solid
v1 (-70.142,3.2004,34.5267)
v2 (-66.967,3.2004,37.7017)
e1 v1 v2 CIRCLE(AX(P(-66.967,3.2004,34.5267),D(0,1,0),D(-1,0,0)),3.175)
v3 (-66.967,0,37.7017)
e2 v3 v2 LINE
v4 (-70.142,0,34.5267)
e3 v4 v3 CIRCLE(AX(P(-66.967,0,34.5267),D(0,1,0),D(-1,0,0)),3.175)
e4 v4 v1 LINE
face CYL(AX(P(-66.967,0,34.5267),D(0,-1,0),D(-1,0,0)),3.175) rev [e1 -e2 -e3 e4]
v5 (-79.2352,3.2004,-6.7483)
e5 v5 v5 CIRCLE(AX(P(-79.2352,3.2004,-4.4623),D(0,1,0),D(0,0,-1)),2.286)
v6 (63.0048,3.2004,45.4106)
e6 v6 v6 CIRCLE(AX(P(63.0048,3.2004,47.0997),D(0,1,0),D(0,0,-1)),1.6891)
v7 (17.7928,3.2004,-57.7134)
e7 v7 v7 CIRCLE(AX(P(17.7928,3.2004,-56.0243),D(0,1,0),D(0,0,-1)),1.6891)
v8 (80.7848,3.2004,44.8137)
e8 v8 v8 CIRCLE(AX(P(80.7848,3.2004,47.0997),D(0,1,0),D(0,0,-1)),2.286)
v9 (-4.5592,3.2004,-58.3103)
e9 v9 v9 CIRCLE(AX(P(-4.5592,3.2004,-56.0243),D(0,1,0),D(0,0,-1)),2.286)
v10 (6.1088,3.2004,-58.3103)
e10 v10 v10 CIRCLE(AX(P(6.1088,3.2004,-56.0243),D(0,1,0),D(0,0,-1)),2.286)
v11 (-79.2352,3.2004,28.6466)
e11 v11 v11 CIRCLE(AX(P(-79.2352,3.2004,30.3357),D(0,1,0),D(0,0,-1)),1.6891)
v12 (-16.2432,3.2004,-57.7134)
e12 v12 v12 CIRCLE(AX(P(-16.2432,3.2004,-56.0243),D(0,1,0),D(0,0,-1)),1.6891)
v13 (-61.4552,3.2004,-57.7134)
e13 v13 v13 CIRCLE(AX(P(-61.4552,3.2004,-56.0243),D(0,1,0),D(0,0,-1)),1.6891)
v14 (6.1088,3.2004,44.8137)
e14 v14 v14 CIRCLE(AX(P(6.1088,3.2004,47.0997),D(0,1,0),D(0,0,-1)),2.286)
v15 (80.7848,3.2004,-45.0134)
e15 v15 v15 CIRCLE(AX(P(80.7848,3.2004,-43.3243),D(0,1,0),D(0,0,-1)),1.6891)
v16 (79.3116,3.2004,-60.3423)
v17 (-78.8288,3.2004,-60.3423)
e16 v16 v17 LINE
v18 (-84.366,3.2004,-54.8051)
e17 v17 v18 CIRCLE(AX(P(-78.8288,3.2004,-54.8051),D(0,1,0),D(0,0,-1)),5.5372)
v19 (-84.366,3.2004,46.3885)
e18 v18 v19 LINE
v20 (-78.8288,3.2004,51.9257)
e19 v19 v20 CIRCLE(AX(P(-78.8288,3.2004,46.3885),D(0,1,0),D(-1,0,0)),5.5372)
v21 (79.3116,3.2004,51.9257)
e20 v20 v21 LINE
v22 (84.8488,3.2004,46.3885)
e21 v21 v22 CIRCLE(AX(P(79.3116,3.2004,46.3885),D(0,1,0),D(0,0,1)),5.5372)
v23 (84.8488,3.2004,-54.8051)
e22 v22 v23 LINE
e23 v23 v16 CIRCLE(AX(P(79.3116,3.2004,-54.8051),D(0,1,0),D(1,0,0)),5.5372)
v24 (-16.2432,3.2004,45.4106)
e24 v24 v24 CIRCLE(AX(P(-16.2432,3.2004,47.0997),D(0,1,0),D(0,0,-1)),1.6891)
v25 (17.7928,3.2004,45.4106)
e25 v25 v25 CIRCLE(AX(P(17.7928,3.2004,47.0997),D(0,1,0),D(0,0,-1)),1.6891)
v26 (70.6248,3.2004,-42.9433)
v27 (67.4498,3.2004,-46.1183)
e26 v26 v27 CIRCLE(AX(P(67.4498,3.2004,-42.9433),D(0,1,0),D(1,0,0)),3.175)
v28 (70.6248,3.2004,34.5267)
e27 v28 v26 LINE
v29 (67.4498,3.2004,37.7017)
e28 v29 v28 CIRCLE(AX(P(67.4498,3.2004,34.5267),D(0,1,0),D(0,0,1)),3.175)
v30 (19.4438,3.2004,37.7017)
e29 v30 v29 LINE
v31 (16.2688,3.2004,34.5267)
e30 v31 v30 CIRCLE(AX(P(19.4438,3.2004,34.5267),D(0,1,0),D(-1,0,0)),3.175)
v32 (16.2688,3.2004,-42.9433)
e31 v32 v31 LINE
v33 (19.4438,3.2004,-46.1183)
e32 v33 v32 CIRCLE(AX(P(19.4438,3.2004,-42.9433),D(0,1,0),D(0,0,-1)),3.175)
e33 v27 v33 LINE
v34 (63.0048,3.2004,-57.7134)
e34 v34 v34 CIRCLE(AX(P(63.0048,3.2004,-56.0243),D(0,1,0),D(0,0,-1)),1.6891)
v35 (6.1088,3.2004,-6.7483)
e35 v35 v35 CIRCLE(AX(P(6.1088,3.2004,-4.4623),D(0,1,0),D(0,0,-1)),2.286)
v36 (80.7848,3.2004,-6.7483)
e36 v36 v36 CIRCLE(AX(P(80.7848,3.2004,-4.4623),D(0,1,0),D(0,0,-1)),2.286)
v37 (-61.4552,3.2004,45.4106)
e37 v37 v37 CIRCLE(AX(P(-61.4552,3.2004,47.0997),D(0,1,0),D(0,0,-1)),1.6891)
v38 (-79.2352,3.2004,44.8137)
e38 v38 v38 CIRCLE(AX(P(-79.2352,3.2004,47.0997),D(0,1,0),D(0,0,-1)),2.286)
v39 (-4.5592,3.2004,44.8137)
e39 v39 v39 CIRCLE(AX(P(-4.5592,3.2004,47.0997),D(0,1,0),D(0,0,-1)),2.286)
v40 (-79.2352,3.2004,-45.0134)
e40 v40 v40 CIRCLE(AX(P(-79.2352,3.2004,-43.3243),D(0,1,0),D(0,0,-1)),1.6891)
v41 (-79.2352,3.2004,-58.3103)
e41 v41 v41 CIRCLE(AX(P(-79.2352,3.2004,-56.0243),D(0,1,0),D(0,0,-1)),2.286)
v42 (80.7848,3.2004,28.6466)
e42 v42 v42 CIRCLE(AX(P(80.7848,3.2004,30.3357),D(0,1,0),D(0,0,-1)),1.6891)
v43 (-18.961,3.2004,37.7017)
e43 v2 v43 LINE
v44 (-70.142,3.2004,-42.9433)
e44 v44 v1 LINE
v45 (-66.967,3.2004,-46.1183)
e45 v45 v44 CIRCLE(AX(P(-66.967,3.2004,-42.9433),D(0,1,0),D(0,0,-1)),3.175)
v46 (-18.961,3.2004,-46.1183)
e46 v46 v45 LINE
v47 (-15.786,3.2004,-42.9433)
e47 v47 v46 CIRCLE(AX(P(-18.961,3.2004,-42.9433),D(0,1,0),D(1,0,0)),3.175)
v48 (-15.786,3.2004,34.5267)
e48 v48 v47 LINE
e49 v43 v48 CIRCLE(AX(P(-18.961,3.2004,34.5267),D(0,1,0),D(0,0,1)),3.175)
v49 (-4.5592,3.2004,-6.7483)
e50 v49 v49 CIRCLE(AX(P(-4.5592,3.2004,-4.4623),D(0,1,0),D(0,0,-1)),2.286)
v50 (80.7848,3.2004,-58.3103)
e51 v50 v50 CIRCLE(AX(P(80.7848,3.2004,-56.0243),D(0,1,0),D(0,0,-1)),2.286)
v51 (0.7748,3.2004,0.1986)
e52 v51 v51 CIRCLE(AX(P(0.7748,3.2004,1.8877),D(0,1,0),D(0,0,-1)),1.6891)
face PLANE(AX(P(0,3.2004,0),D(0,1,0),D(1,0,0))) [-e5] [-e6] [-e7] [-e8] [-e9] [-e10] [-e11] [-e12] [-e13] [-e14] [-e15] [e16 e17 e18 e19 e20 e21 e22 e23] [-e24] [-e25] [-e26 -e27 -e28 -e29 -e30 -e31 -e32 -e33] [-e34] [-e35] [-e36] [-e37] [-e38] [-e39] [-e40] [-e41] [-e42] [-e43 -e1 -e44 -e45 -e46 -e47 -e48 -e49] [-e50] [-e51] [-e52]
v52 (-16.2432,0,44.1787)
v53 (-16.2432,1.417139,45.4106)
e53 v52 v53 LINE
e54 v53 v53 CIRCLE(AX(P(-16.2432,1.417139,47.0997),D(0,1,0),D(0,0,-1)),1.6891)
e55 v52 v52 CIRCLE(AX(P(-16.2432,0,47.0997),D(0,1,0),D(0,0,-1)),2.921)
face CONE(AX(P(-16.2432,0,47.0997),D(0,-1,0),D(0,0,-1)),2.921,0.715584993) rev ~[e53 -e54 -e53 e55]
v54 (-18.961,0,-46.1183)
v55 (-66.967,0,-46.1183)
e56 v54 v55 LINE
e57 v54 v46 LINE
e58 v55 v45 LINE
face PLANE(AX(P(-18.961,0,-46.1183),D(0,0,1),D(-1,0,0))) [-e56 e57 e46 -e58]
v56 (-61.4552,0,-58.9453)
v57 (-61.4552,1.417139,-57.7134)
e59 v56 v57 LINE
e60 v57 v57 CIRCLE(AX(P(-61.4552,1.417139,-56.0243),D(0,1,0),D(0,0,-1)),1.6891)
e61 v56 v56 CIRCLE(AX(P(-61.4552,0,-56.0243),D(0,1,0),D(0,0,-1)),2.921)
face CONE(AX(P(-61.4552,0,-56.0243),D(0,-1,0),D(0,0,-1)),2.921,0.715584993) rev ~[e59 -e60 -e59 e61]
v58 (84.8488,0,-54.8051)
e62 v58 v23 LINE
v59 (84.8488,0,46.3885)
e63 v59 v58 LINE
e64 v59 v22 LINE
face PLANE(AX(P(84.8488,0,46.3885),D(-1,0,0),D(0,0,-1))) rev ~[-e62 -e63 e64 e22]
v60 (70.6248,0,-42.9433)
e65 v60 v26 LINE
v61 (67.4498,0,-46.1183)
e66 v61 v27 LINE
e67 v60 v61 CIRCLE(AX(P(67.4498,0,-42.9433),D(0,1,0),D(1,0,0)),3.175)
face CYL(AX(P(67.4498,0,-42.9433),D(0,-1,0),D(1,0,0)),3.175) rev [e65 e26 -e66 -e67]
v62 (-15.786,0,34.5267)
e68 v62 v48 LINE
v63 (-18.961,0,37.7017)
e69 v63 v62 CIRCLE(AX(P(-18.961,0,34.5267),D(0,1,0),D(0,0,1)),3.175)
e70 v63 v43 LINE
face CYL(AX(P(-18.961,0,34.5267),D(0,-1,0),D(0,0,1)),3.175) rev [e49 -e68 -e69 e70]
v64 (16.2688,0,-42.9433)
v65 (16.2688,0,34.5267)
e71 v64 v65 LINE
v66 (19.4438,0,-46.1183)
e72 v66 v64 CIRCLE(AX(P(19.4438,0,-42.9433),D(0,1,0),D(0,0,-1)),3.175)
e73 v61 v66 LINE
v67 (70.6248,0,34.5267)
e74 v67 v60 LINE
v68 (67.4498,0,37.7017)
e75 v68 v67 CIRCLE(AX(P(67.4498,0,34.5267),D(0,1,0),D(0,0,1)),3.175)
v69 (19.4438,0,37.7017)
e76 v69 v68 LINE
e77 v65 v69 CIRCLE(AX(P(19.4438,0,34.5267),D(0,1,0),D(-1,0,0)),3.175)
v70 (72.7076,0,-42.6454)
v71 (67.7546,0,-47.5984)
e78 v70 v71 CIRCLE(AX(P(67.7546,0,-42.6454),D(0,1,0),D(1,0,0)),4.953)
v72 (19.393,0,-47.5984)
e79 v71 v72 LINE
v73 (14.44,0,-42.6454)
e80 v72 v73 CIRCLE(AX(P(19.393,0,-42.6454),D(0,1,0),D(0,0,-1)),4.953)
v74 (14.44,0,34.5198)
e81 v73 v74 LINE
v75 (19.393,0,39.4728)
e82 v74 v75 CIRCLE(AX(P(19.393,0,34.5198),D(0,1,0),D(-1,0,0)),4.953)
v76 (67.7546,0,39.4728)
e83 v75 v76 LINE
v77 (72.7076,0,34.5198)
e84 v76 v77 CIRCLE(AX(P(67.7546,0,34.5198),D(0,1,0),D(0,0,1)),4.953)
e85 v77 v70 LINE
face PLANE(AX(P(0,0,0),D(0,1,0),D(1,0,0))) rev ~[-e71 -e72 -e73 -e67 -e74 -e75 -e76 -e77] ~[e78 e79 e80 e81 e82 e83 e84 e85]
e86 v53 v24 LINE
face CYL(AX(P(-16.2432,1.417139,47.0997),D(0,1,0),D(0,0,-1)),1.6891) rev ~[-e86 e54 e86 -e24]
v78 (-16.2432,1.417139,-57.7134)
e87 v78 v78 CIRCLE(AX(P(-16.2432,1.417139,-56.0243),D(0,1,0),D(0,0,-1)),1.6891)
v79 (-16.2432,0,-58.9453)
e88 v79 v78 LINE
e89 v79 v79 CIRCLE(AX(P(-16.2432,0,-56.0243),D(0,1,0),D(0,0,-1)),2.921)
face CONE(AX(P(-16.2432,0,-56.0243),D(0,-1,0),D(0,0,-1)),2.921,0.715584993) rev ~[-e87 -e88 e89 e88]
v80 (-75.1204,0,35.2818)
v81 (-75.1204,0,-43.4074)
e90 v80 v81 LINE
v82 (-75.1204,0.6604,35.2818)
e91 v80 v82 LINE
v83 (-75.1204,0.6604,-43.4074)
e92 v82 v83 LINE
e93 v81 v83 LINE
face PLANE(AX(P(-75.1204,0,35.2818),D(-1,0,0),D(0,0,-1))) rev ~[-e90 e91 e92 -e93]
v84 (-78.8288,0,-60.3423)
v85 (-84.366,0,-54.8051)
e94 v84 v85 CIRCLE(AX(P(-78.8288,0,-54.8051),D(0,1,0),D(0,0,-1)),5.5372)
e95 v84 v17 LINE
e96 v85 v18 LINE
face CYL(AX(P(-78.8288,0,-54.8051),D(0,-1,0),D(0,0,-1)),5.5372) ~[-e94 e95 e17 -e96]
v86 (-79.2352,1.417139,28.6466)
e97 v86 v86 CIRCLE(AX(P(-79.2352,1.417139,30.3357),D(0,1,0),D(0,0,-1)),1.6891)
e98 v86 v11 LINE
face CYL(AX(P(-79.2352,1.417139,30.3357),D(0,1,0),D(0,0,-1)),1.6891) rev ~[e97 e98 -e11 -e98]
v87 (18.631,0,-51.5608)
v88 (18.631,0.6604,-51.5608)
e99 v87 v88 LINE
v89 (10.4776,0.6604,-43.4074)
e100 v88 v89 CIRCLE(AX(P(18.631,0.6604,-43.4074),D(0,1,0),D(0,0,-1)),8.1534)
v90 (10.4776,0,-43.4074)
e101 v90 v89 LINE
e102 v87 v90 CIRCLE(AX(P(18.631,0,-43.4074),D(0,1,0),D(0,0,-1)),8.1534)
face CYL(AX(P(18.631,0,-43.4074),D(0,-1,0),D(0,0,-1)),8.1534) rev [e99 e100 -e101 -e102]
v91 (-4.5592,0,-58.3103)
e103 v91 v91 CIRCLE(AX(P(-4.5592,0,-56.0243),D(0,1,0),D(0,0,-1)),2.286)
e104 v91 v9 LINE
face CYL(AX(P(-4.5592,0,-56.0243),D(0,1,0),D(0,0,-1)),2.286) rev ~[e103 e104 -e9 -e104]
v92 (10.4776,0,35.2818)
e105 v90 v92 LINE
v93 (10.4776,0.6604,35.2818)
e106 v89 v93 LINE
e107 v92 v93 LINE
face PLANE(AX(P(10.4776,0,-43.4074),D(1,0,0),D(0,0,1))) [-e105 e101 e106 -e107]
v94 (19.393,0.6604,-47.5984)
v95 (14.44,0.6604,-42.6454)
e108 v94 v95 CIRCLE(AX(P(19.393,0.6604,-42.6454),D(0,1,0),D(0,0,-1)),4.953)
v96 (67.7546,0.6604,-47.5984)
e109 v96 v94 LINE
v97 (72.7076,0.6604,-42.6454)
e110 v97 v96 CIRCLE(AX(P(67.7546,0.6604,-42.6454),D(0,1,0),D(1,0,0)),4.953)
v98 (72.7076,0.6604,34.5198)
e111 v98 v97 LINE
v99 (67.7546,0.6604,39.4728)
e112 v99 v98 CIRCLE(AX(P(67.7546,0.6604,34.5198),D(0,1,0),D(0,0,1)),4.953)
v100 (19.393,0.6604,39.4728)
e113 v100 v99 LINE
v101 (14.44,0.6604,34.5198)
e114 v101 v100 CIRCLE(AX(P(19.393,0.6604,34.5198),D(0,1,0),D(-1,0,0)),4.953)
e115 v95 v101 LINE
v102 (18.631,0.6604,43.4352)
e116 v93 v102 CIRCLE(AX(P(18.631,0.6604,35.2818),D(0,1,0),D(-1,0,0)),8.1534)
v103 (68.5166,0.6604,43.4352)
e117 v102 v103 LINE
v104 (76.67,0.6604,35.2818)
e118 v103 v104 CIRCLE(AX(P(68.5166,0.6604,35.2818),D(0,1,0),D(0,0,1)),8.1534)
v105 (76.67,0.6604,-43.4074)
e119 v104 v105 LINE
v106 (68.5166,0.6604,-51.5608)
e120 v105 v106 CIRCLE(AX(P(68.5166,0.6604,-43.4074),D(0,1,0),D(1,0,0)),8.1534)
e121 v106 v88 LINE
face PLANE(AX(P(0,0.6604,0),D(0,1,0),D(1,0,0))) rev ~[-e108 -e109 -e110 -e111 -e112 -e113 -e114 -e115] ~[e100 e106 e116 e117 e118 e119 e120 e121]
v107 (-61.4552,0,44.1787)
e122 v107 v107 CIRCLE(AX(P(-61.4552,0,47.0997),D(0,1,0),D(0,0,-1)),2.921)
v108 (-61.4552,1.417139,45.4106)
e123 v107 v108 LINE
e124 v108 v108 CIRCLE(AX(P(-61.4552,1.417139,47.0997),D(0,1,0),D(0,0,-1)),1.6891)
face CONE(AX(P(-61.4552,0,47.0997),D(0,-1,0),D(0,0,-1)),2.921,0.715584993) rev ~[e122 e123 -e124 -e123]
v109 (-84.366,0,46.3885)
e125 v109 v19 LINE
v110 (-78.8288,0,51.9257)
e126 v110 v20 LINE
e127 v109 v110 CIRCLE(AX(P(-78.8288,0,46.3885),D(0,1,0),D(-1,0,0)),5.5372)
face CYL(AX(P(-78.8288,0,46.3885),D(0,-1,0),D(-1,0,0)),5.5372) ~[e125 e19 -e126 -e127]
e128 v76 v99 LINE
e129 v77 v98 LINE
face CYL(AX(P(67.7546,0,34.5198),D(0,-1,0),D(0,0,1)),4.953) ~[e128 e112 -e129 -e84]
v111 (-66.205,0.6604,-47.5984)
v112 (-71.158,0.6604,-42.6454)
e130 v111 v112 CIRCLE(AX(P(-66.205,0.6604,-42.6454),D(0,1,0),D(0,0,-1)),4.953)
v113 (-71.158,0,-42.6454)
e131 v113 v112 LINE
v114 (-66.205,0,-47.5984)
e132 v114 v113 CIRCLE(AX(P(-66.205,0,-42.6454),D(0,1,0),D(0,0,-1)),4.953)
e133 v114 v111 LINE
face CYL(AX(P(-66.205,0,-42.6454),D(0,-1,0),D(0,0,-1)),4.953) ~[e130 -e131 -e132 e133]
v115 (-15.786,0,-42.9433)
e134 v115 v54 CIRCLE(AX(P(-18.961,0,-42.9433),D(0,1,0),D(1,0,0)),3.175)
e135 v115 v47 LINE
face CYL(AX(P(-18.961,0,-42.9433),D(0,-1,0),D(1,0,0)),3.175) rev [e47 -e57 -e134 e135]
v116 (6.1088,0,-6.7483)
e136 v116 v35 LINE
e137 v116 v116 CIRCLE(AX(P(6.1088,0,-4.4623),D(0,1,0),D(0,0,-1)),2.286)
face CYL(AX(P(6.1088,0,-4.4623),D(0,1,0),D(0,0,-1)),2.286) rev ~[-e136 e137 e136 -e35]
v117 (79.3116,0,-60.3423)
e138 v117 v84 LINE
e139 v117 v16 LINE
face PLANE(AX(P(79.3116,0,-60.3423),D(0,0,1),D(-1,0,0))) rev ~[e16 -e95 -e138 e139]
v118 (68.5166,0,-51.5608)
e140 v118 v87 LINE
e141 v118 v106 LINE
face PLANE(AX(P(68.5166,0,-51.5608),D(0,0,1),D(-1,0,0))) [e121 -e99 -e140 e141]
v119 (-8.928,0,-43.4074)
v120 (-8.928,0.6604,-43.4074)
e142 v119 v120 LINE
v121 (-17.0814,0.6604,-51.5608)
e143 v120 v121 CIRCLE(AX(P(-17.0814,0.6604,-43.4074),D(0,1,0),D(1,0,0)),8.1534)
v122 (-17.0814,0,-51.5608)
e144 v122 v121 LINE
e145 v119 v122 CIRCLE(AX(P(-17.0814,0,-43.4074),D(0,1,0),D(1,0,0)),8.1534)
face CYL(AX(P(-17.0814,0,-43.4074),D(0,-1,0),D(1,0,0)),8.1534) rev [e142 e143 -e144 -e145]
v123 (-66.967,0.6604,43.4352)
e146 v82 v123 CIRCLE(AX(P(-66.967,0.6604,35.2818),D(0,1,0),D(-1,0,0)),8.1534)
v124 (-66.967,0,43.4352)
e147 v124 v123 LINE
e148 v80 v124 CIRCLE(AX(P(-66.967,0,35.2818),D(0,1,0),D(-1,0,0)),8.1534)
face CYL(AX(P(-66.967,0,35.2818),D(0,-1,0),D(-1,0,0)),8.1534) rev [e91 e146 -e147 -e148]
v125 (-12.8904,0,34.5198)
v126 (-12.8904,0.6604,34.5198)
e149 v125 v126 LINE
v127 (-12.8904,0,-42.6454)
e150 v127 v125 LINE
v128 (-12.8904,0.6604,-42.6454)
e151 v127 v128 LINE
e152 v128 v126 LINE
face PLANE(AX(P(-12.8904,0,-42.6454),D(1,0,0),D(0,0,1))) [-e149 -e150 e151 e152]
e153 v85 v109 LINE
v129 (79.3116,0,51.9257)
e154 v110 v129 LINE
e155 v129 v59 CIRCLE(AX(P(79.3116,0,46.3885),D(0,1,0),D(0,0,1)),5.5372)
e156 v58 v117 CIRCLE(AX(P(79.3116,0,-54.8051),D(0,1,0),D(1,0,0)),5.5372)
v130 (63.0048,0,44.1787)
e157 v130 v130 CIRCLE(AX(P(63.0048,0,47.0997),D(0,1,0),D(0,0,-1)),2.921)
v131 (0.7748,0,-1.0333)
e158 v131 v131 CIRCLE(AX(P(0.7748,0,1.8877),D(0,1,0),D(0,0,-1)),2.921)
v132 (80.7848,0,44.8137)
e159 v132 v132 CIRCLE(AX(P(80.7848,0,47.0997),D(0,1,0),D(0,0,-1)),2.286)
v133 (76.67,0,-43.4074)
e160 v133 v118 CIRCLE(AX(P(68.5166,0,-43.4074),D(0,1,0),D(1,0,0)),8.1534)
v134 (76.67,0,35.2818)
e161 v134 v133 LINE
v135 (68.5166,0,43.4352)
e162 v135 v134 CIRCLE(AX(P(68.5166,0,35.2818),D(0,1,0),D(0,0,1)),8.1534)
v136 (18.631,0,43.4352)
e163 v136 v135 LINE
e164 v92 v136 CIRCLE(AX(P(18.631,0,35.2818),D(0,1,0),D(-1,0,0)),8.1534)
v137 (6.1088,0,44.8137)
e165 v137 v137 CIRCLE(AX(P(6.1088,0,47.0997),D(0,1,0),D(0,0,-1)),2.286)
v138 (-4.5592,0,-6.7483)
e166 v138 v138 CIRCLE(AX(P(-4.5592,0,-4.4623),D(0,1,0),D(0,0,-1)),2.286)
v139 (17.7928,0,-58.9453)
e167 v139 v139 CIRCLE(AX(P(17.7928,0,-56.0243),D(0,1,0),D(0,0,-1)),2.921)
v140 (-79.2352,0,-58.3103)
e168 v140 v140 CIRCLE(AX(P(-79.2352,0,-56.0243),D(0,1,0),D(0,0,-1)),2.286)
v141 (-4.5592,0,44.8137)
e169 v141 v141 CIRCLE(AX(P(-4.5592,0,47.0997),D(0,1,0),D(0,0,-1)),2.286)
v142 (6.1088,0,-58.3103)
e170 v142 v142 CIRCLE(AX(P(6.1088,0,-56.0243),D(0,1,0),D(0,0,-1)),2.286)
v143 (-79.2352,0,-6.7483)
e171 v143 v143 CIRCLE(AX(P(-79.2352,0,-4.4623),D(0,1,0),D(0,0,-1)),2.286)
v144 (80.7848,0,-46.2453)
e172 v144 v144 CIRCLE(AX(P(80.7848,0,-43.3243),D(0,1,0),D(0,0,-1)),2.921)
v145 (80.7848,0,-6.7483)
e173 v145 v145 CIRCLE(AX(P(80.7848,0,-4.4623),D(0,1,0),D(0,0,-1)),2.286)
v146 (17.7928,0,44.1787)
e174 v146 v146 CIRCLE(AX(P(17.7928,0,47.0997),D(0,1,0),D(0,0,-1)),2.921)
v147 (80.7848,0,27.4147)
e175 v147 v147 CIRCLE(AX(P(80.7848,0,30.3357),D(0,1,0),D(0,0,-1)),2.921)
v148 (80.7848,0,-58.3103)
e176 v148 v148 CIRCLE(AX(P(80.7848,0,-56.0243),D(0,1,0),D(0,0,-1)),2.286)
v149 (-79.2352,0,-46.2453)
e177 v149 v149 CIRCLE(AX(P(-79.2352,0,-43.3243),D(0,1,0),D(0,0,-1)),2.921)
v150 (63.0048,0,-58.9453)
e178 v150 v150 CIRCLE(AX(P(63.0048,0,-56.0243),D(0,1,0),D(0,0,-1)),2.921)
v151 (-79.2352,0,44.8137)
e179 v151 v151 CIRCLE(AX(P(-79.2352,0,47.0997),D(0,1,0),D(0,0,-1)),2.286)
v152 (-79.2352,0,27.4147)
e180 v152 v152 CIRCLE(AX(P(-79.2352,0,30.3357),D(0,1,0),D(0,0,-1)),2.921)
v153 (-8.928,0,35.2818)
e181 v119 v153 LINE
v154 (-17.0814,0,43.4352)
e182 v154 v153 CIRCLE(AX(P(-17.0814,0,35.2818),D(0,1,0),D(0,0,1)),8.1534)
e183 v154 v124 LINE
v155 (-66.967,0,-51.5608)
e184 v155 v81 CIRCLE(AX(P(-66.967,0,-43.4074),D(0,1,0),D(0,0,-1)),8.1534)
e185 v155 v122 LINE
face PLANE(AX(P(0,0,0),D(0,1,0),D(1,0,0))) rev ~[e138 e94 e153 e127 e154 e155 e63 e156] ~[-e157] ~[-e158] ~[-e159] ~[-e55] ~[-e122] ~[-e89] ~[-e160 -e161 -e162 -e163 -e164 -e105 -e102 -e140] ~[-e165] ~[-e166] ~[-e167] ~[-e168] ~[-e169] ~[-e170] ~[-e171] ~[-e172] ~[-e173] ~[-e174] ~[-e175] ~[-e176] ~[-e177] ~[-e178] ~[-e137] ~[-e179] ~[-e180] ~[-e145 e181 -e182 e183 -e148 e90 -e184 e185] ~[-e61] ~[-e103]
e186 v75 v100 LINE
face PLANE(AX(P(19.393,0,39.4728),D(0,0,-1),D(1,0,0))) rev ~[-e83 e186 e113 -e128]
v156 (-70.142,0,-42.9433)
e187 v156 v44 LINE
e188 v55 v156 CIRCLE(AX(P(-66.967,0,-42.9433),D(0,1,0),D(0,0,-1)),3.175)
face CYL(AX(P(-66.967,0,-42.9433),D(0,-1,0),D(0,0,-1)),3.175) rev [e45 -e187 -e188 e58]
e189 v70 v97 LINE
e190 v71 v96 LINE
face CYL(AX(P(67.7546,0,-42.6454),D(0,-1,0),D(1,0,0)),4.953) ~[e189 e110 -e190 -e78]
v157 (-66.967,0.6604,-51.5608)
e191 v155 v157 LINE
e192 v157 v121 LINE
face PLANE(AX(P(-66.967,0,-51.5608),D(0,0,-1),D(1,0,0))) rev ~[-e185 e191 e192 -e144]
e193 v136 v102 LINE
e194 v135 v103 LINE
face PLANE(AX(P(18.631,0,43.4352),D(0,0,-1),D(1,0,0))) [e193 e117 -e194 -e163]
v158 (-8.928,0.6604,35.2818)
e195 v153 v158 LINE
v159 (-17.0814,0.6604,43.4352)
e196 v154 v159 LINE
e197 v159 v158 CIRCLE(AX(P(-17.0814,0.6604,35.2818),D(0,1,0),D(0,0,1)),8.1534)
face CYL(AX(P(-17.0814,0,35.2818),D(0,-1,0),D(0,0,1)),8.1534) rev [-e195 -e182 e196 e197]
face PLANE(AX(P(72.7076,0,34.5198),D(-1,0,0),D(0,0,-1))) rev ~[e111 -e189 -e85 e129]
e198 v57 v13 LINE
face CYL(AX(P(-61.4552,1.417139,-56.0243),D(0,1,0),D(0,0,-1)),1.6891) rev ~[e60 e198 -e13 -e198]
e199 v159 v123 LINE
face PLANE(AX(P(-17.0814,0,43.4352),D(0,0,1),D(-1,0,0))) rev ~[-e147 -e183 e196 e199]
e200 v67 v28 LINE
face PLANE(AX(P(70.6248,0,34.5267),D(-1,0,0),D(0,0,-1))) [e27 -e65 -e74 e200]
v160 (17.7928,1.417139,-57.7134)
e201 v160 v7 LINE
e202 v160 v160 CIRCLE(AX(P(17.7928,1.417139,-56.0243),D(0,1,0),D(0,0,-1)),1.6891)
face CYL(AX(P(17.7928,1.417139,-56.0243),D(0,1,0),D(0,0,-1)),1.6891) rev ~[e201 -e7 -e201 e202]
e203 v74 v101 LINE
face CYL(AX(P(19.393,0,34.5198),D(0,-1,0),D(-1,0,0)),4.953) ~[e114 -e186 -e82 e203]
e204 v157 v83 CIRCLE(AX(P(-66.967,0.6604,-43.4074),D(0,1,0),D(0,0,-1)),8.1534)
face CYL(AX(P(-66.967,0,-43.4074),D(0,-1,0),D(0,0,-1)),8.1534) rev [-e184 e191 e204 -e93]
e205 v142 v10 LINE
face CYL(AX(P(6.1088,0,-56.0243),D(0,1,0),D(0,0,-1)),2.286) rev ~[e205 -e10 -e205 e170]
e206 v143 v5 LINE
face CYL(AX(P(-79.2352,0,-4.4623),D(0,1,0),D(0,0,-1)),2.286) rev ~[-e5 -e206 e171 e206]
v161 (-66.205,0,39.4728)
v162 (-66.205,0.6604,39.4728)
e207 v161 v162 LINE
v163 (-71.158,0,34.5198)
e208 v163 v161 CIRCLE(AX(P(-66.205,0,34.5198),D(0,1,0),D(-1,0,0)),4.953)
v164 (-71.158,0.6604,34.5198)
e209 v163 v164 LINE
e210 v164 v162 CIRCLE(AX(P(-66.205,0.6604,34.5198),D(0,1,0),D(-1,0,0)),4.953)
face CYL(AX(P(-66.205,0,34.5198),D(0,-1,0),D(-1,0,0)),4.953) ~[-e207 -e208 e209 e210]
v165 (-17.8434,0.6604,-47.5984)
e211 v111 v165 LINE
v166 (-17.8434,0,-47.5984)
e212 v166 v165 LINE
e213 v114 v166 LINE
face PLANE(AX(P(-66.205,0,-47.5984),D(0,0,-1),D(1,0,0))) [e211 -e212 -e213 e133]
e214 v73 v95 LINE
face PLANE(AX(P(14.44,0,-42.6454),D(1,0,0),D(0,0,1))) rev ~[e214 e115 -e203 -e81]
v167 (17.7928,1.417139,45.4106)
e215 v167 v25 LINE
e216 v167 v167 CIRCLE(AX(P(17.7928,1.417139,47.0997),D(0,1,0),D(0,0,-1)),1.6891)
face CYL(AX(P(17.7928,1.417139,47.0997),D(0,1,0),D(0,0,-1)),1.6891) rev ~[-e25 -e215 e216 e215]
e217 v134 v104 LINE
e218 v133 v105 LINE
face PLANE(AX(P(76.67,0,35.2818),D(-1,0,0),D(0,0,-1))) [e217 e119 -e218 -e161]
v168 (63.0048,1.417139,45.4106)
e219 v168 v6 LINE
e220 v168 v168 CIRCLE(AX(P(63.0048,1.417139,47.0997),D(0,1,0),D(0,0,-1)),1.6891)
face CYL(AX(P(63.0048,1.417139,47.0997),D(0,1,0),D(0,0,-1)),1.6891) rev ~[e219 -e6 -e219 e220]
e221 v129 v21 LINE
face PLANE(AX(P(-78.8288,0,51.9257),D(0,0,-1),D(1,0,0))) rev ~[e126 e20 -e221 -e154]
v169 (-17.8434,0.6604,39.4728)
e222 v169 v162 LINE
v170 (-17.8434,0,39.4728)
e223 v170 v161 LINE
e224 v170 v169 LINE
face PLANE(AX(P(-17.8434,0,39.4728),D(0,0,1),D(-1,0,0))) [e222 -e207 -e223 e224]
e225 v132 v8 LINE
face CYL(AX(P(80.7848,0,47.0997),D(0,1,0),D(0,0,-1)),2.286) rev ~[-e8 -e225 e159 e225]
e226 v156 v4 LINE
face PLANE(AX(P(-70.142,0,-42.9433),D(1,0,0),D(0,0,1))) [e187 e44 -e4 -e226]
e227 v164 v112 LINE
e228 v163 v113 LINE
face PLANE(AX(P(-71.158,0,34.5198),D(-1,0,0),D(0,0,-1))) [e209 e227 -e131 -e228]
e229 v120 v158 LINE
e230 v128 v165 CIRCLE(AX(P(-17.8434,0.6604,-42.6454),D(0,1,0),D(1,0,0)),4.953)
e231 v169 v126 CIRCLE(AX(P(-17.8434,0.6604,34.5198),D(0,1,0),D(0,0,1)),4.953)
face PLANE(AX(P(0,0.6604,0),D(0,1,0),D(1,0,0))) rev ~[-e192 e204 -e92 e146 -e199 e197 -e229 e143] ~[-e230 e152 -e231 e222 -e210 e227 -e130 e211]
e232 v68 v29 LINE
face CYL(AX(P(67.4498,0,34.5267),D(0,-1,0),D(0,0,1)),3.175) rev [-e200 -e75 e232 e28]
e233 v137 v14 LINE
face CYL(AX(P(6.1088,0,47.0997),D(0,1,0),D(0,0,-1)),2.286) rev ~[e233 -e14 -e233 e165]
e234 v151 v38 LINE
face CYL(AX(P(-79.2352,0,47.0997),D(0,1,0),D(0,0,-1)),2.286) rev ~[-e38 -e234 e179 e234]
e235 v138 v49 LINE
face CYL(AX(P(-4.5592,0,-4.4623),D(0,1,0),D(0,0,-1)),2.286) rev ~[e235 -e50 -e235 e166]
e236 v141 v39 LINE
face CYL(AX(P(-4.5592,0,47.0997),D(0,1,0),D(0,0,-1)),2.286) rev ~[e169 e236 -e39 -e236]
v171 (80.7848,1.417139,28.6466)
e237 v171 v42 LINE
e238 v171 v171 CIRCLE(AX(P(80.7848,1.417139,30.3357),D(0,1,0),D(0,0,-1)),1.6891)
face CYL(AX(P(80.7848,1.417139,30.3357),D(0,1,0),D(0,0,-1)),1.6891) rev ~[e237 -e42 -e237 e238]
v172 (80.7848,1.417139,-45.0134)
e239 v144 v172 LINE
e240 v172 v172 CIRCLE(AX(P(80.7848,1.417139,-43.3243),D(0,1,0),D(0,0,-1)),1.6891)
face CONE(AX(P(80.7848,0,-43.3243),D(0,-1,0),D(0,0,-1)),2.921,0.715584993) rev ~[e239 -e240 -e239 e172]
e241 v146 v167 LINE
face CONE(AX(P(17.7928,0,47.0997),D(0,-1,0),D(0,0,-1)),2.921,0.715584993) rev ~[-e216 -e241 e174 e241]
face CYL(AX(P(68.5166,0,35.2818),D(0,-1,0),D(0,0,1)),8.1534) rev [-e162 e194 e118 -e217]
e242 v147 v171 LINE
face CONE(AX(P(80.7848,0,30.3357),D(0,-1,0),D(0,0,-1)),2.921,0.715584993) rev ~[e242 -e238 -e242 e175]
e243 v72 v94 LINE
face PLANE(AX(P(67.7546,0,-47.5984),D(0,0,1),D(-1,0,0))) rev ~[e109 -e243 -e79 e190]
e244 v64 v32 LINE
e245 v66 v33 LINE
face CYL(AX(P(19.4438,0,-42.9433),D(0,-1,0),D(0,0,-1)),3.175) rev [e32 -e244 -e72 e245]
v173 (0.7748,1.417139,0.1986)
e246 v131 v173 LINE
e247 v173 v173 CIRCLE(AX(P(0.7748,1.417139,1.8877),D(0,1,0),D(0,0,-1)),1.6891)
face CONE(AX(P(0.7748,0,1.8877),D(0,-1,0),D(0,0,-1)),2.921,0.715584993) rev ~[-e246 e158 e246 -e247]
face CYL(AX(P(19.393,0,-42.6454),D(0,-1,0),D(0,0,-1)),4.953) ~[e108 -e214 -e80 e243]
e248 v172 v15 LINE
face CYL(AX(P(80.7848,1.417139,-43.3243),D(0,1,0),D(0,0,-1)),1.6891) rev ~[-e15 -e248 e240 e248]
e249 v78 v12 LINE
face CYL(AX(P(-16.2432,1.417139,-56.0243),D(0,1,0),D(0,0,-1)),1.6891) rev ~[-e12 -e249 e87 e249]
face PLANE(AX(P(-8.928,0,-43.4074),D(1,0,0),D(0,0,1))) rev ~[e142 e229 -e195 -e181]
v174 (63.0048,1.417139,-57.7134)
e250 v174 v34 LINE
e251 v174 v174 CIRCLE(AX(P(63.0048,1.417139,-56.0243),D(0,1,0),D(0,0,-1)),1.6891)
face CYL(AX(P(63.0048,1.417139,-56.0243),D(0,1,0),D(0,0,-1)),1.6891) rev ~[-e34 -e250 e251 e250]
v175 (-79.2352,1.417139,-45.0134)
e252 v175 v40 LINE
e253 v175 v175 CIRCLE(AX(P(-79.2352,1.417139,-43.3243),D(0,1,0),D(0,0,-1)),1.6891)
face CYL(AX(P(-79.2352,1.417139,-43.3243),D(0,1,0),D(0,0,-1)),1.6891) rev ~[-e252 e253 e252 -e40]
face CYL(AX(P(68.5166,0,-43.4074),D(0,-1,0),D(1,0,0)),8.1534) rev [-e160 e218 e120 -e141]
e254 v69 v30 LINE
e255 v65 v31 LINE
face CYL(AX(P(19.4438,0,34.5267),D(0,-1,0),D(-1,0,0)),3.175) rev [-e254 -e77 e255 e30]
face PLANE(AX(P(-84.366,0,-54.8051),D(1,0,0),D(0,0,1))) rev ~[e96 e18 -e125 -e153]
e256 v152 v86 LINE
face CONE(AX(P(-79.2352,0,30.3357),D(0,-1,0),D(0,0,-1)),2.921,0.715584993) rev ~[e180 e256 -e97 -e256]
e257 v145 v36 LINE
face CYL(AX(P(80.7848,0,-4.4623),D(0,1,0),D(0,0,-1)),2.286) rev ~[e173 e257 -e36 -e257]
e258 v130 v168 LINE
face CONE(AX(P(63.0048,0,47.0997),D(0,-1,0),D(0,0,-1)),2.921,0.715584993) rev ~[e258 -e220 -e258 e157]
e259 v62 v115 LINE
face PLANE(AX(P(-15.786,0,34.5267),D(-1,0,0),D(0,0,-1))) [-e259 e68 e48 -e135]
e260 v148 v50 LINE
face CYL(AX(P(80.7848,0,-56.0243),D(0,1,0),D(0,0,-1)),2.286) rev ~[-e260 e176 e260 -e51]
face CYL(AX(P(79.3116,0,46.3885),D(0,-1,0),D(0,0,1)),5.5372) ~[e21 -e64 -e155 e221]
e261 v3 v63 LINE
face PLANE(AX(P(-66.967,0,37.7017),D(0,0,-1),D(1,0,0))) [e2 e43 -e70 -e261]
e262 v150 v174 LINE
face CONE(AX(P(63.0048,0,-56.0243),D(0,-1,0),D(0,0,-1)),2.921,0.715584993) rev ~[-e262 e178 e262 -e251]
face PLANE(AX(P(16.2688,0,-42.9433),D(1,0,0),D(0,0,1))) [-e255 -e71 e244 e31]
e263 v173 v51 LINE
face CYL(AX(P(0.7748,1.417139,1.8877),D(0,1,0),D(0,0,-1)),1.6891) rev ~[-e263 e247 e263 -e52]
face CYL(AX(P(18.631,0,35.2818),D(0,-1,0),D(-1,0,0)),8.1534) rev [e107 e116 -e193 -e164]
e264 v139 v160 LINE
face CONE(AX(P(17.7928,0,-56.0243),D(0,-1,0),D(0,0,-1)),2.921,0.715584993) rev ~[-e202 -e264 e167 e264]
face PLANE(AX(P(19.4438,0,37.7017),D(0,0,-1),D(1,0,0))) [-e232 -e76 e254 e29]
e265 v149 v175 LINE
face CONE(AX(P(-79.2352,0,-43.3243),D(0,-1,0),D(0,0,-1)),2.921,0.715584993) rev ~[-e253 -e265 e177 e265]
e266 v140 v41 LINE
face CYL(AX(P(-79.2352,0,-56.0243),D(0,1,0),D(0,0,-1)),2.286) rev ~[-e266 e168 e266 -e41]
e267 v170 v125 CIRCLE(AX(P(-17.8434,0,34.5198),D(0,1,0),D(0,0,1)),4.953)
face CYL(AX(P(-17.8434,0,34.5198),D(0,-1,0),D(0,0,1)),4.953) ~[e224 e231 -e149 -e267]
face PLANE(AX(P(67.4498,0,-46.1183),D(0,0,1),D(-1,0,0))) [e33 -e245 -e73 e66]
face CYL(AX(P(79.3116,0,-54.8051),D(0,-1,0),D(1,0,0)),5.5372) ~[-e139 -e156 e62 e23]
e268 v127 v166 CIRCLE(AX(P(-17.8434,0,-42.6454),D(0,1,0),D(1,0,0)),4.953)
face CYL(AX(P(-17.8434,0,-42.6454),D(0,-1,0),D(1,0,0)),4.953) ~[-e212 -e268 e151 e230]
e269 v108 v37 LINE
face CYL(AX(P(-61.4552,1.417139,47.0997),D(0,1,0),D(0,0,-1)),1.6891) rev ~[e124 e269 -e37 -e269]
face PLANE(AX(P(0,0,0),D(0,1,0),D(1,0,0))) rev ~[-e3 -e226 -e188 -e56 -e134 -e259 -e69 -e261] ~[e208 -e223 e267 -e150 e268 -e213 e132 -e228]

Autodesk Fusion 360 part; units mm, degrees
sketch "Front-OuterDimensionsAndHoles" plane through (0, 0, 0) normal (0, 1, 0) x (1, 0, 0) in component "1006351A-GASKET"
  line L0 (-137.0277, -51.6717) -> (147.7462, -51.6717) construction
  line L1 (-113.1932, -37.4477) -> (126.9355, -37.4477) construction
  line L2 (-111.6736, 46.3723) -> (88.9542, 46.3723) construction
  line L3 (-83.38, 4.4623) -> (113.9408, 4.4623) construction
  line L4 (77.012, -30.3357) -> (138.7437, -30.3357) construction
  line L5 (77.3795, 43.3243) -> (102.1824, 43.3243) construction
  line L6 (-79.2352, -152.4901) -> (-79.2352, 67.7682) construction
  line L7 (80.7848, -152.4901) -> (80.7848, 99.4049) construction
  line L8 (-16.2432, -127.3246) -> (-16.2432, -37.4477) construction
  line L9 (-61.4552, -139.7875) -> (-61.4552, -23.5467) construction
  line L10 (-4.5592, -114.8617) -> (-4.5592, -39.3651) construction
  line L11 (0.7748, -102.6384) -> (0.7748, 79.7518) construction
  line L12 (6.1088, -89.6961) -> (6.1088, 17.4372) construction
  line L13 (122.5447, -1.8877) -> (-114.7303, -1.8877) construction
  line L14 (151.0657, 56.0243) -> (-121.6808, 56.0243) construction
  line L15 (-84.366, -162.1054) -> (-84.366, 89.1529) construction
  line L16 (84.8488, -151.7017) -> (84.8488, 106.4269) construction
  line L17 (17.7928, -77.6983) -> (17.7928, -42.3651) construction
  line L18 (63.0048, -65.3317) -> (63.0048, -43.9355) construction
  line L19 (-137.1695, 60.5963) -> (174.7441, 60.5963) construction
  line L20 (-87.8994, -47.0997) -> (156.6849, -47.0997) construction
  line L21 (70.6248, 70.8097) -> (70.6248, -45.2683) construction
  line L22 (16.2688, 71.2679) -> (16.2688, -42.3651) construction
  line L23 (-15.786, 70.5042) -> (-15.786, -42.9773) construction
  line L24 (-70.142, 108.0768) -> (-70.142, -44.9628) construction
  line L25 (-10.9092, 93.2616) -> (-10.9092, -44.6574) construction
  line L26 (73.9383, 85.014) -> (73.9383, -42.8245) construction
  line L27 (-101.4005, 49.5796) -> (76.5348, 49.5796) construction
  line L28 (-100.0259, -41.454) -> (76.8403, -41.454) construction
  line L29 (-78.8288, -51.9257) -> (79.3116, -51.9257)
  line L30 (84.8488, -46.3885) -> (84.8488, 54.8051)
  line L31 (79.3116, 60.3423) -> (-78.8288, 60.3423)
  line L32 (-84.366, 54.8051) -> (-84.366, -46.3885)
  line L33 (-66.967, -37.7017) -> (-18.961, -37.7017)
  line L34 (-15.786, -34.5267) -> (-15.786, 42.9433)
  line L35 (-18.961, 46.1183) -> (-66.967, 46.1183)
  line L36 (-70.142, 42.9433) -> (-70.142, -34.5267)
  line L37 (19.4438, -37.7017) -> (67.4498, -37.7017)
  line L38 (70.6248, -34.5267) -> (70.6248, 42.9433)
  line L39 (67.4498, 46.1183) -> (19.4438, 46.1183)
  line L40 (16.2688, 42.9433) -> (16.2688, -34.5267)
  arc A0 (-84.366, -46.3885) -> (-78.8288, -51.9257) centre (-78.8288, -46.3885) ccw
  arc A1 (-78.8288, 60.3423) -> (-84.366, 54.8051) centre (-78.8288, 54.8051) ccw
  arc A2 (84.8488, 54.8051) -> (79.3116, 60.3423) centre (79.3116, 54.8051) ccw
  arc A3 (-70.142, -34.5267) -> (-66.967, -37.7017) centre (-66.967, -34.5267) ccw
  arc A4 (-18.961, -37.7017) -> (-15.786, -34.5267) centre (-18.961, -34.5267) ccw
  arc A5 (-15.786, 42.9433) -> (-18.961, 46.1183) centre (-18.961, 42.9433) ccw
  arc A6 (-66.967, 46.1183) -> (-70.142, 42.9433) centre (-66.967, 42.9433) ccw
  arc A7 (67.4498, -37.7017) -> (70.6248, -34.5267) centre (67.4498, -34.5267) ccw
  arc A8 (70.6248, 42.9433) -> (67.4498, 46.1183) centre (67.4498, 42.9433) ccw
  arc A9 (19.4438, 46.1183) -> (16.2688, 42.9433) centre (19.4438, 42.9433) ccw
  arc A10 (16.2688, -34.5267) -> (19.4438, -37.7017) centre (19.4438, -34.5267) ccw
  arc A11 (79.3116, -51.9257) -> (84.8488, -46.3885) centre (79.3116, -46.3885) ccw
  line L41 (-100.3246, -43.4352) -> (86.6573, -43.4352) construction
  line L42 (-99.9078, -39.4728) -> (77.154, -39.4728) construction
  line L43 (-94.8446, 47.5984) -> (76.1721, 47.5984) construction
  line L44 (-94.4522, 51.5608) -> (76.1721, 51.5608) construction
  line L45 (-73.1392, 86.7279) -> (-73.1392, -45.4577) construction
  line L46 (-8.928, 72.5566) -> (-8.928, -44.6167) construction
  line L47 (-12.8904, 72.2199) -> (-12.8904, -44.6167) construction
  line L48 (-75.1204, 70.9572) -> (-75.1204, -44.6167) construction
  line L49 (-71.158, 71.0414) -> (-71.158, -44.3641) construction
  line L50 (-66.967, 51.5608) -> (-17.0814, 51.5608)
  line L51 (-8.928, 43.4074) -> (-8.928, -35.2818)
  line L52 (-17.0814, -43.4352) -> (-66.967, -43.4352)
  line L53 (-75.1204, -35.2818) -> (-75.1204, 43.4074)
  line L54 (-66.205, 47.5984) -> (-17.8434, 47.5984)
  line L55 (-12.8904, 42.6454) -> (-12.8904, -34.5198)
  line L56 (-17.8434, -39.4728) -> (-66.205, -39.4728)
  line L57 (-71.158, -34.5198) -> (-71.158, 42.6454)
  arc A12 (-75.1204, -35.2818) -> (-66.967, -43.4352) centre (-66.967, -35.2818) ccw
  arc A13 (-17.0814, -43.4352) -> (-8.928, -35.2818) centre (-17.0814, -35.2818) ccw
  arc A14 (-8.928, 43.4074) -> (-17.0814, 51.5608) centre (-17.0814, 43.4074) ccw
  arc A15 (-66.967, 51.5608) -> (-75.1204, 43.4074) centre (-66.967, 43.4074) ccw
  arc A16 (-71.158, -34.5198) -> (-66.205, -39.4728) centre (-66.205, -34.5198) ccw
  arc A17 (-66.205, 47.5984) -> (-71.158, 42.6454) centre (-66.205, 42.6454) ccw
  arc A18 (-12.8904, 42.6454) -> (-17.8434, 47.5984) centre (-17.8434, 42.6454) ccw
  arc A19 (-17.8434, -39.4728) -> (-12.8904, -34.5198) centre (-17.8434, -34.5198) ccw
  line L58 (18.631, -43.4352) -> (68.5166, -43.4352)
  arc A20 (68.5166, -43.4352) -> (76.67, -35.2818) centre (68.5166, -35.2818) ccw
  line L59 (76.67, -35.2818) -> (76.67, 43.4074)
  arc A21 (76.67, 43.4074) -> (68.5166, 51.5608) centre (68.5166, 43.4074) ccw
  line L60 (68.5166, 51.5608) -> (18.631, 51.5608)
  arc A22 (18.631, 51.5608) -> (10.4776, 43.4074) centre (18.631, 43.4074) ccw
  line L61 (10.4776, 43.4074) -> (10.4776, -35.2818)
  arc A23 (10.4776, -35.2818) -> (18.631, -43.4352) centre (18.631, -35.2818) ccw
  line L62 (19.393, -39.4728) -> (67.7546, -39.4728)
  arc A24 (67.7546, -39.4728) -> (72.7076, -34.5198) centre (67.7546, -34.5198) ccw
  line L63 (72.7076, -34.5198) -> (72.7076, 42.6454)
  arc A25 (72.7076, 42.6454) -> (67.7546, 47.5984) centre (67.7546, 42.6454) ccw
  line L64 (67.7546, 47.5984) -> (19.393, 47.5984)
  arc A26 (19.393, 47.5984) -> (14.44, 42.6454) centre (19.393, 42.6454) ccw
  line L65 (14.44, 42.6454) -> (14.44, -34.5198)
  line L66 (101.4573, -39.4728) -> (-75.6045, -39.4728) construction
  arc A27 (14.44, -34.5198) -> (19.393, -39.4728) centre (19.393, -34.5198) ccw
  point P0 (-79.2352, -47.0997)
  point P1 (-4.5592, -47.0997)
  point P2 (6.1088, -47.0997)
  point P3 (80.7848, -47.0997)
  point P4 (80.7848, 4.4623)
  point P5 (6.1088, 4.4623)
  point P6 (-79.2352, 4.4623)
  point P7 (-4.5592, 4.4623)
  point P8 (80.7848, 56.0243)
  point P9 (6.1088, 56.0243)
  point P10 (-4.5592, 56.0243)
  point P11 (-79.2352, 56.0243)
  point P12 (80.7848, -30.3357)
  point P13 (80.7848, 43.3243)
  point P14 (63.0048, -47.0997)
  point P15 (17.7928, -47.0997)
  point P16 (17.7928, 56.0243)
  point P17 (63.0048, 56.0243)
  point P18 (0.7748, -1.8877)
  point P19 (-16.2432, -47.0997)
  point P20 (-61.4552, -47.0997)
  point P21 (-79.2352, -30.3357)
  point P22 (-79.2352, 43.3243)
  point P23 (-61.4552, 56.0243)
  point P24 (-16.2432, 56.0243)
  dimension "d1" = 169.2148
  dimension "d2" = 4.064
  dimension "d3" = 160.02
  dimension "d4" = 142.24
  dimension "d5" = 97.028
  dimension "d6" = 85.344
  dimension "d7" = 80.01
  dimension "d8" = 74.676
  dimension "d9" = 17.78
  dimension "d10" = 62.992
  dimension "d12" = 112.268
  dimension "d13" = 103.124
  dimension "d14" = 51.562
  dimension "d16" = 57.912
  dimension "d17" = 86.36
  dimension "d18" = 12.7
  dimension "d19" = 14.224
  dimension "d20" = 4.572
  dimension "d21" = 14.224
  dimension "d22" = 14.224
  dimension "d23" = 54.356
  dimension "d24" = 54.356
  dimension "d25" = 91.0336
  dimension "d26" = 14.224
  dimension "d27" = 5.5372
  dimension "d28" = 5.5372
  dimension "d29" = 5.5372
  dimension "d30" = 3.175
  dimension "d31" = 3.175
  dimension "d32" = 3.175
  dimension "d33" = 3.175
  dimension "d34" = 3.175
  dimension "d35" = 3.175
  dimension "d36" = 3.175
  dimension "d37" = 3.175
  dimension "d40" = 5.5372
  dimension "d49" = 1.9812
  dimension "d50" = 1.9812
  dimension "d51" = 1.9812
  dimension "d52" = 1.9812
  dimension "d53" = 91.694
  dimension "d54" = 62.23
  dimension "d55" = 1.9812
  dimension "d56" = 1.9812
  dimension "d57" = 1.9812
  dimension "d58" = 1.9812
  dimension "d59" = 8.1534
  dimension "d60" = 8.1534
  dimension "d61" = 8.1534
  dimension "d62" = 8.1534
  dimension "d63" = 4.953
  dimension "d64" = 4.953
  dimension "d65" = 4.953
  dimension "d66" = 4.953
extrude "Extrude1" add sketch "Front-OuterDimensionsAndHoles" along normal blind 3.2004 contours L29 L30 L31 L32 A0 A1 A2 A11 | L50 L51 L52 L53 A12 A13 A14 A15 | L54 L55 L56 L57 A16 A17 A18 A19 | L58 A20 L59 A21 L60 A22 L61 A23 | L62 A24 L63 A25 L64 A26 L65 A27 in component "1006351A-GASKET"
hole "Hole1" at (80.7848, 0, 47.0997) at (6.1088, 0, 47.0997) at (-4.5592, 0, 47.0997) at (-79.2352, 0, 47.0997) at (-79.2352, 0, -56.0243) at (6.1088, 0, -56.0243) at (-4.5592, 0, -56.0243) at (80.7848, 0, -56.0243) at (80.7848, 0, -4.4623) at (6.1088, 0, -4.4623) at (-4.5592, 0, -4.4623) at (-79.2352, 0, -4.4623) direction (0, 1, 0) diameter 4.572 end through all in component "1006351A-GASKET"
hole "Hole2" at (-61.4552, 0, 47.0997) at (-16.2432, 0, 47.0997) at (17.7928, 0, 47.0997) at (63.0048, 0, 47.0997) at (80.7848, 0, 30.3357) at (80.7848, 0, -43.3243) at (63.0048, 0, -56.0243) at (0.7748, 0, 1.8877) at (-16.2432, 0, -56.0243) at (17.7928, 0, -56.0243) at (-61.4552, 0, -56.0243) at (-79.2352, 0, -43.3243) at (-79.2352, 0, 30.3357) direction (0, 1, 0) diameter 3.3782 end through all countersink diameter 5.842 countersink angle 82 in component "1006351A-GASKET"
extrude "Extrude2" cut sketch "Front-OuterDimensionsAndHoles" along normal blind 0.6604 contours L50 L51 L52 L53 A12 A13 A14 A15 | L58 A20 L59 A21 L60 A22 L61 A23 in component "1006351A-GASKET"
component "1006351A-GASKET" placed x (1, 0, 0) y (0, 1, 0) z (0, 0, 1) at (0, 0, 0)
equation "d49 = ( 0.156 / 2 ) * 1 in"
equation "d50 = ( 0.156 / 2 ) * 1 in"
equation "d51 = ( 0.156 / 2 ) * 1 in"
equation "d52 = ( 0.156 / 2 ) * 1 in"
